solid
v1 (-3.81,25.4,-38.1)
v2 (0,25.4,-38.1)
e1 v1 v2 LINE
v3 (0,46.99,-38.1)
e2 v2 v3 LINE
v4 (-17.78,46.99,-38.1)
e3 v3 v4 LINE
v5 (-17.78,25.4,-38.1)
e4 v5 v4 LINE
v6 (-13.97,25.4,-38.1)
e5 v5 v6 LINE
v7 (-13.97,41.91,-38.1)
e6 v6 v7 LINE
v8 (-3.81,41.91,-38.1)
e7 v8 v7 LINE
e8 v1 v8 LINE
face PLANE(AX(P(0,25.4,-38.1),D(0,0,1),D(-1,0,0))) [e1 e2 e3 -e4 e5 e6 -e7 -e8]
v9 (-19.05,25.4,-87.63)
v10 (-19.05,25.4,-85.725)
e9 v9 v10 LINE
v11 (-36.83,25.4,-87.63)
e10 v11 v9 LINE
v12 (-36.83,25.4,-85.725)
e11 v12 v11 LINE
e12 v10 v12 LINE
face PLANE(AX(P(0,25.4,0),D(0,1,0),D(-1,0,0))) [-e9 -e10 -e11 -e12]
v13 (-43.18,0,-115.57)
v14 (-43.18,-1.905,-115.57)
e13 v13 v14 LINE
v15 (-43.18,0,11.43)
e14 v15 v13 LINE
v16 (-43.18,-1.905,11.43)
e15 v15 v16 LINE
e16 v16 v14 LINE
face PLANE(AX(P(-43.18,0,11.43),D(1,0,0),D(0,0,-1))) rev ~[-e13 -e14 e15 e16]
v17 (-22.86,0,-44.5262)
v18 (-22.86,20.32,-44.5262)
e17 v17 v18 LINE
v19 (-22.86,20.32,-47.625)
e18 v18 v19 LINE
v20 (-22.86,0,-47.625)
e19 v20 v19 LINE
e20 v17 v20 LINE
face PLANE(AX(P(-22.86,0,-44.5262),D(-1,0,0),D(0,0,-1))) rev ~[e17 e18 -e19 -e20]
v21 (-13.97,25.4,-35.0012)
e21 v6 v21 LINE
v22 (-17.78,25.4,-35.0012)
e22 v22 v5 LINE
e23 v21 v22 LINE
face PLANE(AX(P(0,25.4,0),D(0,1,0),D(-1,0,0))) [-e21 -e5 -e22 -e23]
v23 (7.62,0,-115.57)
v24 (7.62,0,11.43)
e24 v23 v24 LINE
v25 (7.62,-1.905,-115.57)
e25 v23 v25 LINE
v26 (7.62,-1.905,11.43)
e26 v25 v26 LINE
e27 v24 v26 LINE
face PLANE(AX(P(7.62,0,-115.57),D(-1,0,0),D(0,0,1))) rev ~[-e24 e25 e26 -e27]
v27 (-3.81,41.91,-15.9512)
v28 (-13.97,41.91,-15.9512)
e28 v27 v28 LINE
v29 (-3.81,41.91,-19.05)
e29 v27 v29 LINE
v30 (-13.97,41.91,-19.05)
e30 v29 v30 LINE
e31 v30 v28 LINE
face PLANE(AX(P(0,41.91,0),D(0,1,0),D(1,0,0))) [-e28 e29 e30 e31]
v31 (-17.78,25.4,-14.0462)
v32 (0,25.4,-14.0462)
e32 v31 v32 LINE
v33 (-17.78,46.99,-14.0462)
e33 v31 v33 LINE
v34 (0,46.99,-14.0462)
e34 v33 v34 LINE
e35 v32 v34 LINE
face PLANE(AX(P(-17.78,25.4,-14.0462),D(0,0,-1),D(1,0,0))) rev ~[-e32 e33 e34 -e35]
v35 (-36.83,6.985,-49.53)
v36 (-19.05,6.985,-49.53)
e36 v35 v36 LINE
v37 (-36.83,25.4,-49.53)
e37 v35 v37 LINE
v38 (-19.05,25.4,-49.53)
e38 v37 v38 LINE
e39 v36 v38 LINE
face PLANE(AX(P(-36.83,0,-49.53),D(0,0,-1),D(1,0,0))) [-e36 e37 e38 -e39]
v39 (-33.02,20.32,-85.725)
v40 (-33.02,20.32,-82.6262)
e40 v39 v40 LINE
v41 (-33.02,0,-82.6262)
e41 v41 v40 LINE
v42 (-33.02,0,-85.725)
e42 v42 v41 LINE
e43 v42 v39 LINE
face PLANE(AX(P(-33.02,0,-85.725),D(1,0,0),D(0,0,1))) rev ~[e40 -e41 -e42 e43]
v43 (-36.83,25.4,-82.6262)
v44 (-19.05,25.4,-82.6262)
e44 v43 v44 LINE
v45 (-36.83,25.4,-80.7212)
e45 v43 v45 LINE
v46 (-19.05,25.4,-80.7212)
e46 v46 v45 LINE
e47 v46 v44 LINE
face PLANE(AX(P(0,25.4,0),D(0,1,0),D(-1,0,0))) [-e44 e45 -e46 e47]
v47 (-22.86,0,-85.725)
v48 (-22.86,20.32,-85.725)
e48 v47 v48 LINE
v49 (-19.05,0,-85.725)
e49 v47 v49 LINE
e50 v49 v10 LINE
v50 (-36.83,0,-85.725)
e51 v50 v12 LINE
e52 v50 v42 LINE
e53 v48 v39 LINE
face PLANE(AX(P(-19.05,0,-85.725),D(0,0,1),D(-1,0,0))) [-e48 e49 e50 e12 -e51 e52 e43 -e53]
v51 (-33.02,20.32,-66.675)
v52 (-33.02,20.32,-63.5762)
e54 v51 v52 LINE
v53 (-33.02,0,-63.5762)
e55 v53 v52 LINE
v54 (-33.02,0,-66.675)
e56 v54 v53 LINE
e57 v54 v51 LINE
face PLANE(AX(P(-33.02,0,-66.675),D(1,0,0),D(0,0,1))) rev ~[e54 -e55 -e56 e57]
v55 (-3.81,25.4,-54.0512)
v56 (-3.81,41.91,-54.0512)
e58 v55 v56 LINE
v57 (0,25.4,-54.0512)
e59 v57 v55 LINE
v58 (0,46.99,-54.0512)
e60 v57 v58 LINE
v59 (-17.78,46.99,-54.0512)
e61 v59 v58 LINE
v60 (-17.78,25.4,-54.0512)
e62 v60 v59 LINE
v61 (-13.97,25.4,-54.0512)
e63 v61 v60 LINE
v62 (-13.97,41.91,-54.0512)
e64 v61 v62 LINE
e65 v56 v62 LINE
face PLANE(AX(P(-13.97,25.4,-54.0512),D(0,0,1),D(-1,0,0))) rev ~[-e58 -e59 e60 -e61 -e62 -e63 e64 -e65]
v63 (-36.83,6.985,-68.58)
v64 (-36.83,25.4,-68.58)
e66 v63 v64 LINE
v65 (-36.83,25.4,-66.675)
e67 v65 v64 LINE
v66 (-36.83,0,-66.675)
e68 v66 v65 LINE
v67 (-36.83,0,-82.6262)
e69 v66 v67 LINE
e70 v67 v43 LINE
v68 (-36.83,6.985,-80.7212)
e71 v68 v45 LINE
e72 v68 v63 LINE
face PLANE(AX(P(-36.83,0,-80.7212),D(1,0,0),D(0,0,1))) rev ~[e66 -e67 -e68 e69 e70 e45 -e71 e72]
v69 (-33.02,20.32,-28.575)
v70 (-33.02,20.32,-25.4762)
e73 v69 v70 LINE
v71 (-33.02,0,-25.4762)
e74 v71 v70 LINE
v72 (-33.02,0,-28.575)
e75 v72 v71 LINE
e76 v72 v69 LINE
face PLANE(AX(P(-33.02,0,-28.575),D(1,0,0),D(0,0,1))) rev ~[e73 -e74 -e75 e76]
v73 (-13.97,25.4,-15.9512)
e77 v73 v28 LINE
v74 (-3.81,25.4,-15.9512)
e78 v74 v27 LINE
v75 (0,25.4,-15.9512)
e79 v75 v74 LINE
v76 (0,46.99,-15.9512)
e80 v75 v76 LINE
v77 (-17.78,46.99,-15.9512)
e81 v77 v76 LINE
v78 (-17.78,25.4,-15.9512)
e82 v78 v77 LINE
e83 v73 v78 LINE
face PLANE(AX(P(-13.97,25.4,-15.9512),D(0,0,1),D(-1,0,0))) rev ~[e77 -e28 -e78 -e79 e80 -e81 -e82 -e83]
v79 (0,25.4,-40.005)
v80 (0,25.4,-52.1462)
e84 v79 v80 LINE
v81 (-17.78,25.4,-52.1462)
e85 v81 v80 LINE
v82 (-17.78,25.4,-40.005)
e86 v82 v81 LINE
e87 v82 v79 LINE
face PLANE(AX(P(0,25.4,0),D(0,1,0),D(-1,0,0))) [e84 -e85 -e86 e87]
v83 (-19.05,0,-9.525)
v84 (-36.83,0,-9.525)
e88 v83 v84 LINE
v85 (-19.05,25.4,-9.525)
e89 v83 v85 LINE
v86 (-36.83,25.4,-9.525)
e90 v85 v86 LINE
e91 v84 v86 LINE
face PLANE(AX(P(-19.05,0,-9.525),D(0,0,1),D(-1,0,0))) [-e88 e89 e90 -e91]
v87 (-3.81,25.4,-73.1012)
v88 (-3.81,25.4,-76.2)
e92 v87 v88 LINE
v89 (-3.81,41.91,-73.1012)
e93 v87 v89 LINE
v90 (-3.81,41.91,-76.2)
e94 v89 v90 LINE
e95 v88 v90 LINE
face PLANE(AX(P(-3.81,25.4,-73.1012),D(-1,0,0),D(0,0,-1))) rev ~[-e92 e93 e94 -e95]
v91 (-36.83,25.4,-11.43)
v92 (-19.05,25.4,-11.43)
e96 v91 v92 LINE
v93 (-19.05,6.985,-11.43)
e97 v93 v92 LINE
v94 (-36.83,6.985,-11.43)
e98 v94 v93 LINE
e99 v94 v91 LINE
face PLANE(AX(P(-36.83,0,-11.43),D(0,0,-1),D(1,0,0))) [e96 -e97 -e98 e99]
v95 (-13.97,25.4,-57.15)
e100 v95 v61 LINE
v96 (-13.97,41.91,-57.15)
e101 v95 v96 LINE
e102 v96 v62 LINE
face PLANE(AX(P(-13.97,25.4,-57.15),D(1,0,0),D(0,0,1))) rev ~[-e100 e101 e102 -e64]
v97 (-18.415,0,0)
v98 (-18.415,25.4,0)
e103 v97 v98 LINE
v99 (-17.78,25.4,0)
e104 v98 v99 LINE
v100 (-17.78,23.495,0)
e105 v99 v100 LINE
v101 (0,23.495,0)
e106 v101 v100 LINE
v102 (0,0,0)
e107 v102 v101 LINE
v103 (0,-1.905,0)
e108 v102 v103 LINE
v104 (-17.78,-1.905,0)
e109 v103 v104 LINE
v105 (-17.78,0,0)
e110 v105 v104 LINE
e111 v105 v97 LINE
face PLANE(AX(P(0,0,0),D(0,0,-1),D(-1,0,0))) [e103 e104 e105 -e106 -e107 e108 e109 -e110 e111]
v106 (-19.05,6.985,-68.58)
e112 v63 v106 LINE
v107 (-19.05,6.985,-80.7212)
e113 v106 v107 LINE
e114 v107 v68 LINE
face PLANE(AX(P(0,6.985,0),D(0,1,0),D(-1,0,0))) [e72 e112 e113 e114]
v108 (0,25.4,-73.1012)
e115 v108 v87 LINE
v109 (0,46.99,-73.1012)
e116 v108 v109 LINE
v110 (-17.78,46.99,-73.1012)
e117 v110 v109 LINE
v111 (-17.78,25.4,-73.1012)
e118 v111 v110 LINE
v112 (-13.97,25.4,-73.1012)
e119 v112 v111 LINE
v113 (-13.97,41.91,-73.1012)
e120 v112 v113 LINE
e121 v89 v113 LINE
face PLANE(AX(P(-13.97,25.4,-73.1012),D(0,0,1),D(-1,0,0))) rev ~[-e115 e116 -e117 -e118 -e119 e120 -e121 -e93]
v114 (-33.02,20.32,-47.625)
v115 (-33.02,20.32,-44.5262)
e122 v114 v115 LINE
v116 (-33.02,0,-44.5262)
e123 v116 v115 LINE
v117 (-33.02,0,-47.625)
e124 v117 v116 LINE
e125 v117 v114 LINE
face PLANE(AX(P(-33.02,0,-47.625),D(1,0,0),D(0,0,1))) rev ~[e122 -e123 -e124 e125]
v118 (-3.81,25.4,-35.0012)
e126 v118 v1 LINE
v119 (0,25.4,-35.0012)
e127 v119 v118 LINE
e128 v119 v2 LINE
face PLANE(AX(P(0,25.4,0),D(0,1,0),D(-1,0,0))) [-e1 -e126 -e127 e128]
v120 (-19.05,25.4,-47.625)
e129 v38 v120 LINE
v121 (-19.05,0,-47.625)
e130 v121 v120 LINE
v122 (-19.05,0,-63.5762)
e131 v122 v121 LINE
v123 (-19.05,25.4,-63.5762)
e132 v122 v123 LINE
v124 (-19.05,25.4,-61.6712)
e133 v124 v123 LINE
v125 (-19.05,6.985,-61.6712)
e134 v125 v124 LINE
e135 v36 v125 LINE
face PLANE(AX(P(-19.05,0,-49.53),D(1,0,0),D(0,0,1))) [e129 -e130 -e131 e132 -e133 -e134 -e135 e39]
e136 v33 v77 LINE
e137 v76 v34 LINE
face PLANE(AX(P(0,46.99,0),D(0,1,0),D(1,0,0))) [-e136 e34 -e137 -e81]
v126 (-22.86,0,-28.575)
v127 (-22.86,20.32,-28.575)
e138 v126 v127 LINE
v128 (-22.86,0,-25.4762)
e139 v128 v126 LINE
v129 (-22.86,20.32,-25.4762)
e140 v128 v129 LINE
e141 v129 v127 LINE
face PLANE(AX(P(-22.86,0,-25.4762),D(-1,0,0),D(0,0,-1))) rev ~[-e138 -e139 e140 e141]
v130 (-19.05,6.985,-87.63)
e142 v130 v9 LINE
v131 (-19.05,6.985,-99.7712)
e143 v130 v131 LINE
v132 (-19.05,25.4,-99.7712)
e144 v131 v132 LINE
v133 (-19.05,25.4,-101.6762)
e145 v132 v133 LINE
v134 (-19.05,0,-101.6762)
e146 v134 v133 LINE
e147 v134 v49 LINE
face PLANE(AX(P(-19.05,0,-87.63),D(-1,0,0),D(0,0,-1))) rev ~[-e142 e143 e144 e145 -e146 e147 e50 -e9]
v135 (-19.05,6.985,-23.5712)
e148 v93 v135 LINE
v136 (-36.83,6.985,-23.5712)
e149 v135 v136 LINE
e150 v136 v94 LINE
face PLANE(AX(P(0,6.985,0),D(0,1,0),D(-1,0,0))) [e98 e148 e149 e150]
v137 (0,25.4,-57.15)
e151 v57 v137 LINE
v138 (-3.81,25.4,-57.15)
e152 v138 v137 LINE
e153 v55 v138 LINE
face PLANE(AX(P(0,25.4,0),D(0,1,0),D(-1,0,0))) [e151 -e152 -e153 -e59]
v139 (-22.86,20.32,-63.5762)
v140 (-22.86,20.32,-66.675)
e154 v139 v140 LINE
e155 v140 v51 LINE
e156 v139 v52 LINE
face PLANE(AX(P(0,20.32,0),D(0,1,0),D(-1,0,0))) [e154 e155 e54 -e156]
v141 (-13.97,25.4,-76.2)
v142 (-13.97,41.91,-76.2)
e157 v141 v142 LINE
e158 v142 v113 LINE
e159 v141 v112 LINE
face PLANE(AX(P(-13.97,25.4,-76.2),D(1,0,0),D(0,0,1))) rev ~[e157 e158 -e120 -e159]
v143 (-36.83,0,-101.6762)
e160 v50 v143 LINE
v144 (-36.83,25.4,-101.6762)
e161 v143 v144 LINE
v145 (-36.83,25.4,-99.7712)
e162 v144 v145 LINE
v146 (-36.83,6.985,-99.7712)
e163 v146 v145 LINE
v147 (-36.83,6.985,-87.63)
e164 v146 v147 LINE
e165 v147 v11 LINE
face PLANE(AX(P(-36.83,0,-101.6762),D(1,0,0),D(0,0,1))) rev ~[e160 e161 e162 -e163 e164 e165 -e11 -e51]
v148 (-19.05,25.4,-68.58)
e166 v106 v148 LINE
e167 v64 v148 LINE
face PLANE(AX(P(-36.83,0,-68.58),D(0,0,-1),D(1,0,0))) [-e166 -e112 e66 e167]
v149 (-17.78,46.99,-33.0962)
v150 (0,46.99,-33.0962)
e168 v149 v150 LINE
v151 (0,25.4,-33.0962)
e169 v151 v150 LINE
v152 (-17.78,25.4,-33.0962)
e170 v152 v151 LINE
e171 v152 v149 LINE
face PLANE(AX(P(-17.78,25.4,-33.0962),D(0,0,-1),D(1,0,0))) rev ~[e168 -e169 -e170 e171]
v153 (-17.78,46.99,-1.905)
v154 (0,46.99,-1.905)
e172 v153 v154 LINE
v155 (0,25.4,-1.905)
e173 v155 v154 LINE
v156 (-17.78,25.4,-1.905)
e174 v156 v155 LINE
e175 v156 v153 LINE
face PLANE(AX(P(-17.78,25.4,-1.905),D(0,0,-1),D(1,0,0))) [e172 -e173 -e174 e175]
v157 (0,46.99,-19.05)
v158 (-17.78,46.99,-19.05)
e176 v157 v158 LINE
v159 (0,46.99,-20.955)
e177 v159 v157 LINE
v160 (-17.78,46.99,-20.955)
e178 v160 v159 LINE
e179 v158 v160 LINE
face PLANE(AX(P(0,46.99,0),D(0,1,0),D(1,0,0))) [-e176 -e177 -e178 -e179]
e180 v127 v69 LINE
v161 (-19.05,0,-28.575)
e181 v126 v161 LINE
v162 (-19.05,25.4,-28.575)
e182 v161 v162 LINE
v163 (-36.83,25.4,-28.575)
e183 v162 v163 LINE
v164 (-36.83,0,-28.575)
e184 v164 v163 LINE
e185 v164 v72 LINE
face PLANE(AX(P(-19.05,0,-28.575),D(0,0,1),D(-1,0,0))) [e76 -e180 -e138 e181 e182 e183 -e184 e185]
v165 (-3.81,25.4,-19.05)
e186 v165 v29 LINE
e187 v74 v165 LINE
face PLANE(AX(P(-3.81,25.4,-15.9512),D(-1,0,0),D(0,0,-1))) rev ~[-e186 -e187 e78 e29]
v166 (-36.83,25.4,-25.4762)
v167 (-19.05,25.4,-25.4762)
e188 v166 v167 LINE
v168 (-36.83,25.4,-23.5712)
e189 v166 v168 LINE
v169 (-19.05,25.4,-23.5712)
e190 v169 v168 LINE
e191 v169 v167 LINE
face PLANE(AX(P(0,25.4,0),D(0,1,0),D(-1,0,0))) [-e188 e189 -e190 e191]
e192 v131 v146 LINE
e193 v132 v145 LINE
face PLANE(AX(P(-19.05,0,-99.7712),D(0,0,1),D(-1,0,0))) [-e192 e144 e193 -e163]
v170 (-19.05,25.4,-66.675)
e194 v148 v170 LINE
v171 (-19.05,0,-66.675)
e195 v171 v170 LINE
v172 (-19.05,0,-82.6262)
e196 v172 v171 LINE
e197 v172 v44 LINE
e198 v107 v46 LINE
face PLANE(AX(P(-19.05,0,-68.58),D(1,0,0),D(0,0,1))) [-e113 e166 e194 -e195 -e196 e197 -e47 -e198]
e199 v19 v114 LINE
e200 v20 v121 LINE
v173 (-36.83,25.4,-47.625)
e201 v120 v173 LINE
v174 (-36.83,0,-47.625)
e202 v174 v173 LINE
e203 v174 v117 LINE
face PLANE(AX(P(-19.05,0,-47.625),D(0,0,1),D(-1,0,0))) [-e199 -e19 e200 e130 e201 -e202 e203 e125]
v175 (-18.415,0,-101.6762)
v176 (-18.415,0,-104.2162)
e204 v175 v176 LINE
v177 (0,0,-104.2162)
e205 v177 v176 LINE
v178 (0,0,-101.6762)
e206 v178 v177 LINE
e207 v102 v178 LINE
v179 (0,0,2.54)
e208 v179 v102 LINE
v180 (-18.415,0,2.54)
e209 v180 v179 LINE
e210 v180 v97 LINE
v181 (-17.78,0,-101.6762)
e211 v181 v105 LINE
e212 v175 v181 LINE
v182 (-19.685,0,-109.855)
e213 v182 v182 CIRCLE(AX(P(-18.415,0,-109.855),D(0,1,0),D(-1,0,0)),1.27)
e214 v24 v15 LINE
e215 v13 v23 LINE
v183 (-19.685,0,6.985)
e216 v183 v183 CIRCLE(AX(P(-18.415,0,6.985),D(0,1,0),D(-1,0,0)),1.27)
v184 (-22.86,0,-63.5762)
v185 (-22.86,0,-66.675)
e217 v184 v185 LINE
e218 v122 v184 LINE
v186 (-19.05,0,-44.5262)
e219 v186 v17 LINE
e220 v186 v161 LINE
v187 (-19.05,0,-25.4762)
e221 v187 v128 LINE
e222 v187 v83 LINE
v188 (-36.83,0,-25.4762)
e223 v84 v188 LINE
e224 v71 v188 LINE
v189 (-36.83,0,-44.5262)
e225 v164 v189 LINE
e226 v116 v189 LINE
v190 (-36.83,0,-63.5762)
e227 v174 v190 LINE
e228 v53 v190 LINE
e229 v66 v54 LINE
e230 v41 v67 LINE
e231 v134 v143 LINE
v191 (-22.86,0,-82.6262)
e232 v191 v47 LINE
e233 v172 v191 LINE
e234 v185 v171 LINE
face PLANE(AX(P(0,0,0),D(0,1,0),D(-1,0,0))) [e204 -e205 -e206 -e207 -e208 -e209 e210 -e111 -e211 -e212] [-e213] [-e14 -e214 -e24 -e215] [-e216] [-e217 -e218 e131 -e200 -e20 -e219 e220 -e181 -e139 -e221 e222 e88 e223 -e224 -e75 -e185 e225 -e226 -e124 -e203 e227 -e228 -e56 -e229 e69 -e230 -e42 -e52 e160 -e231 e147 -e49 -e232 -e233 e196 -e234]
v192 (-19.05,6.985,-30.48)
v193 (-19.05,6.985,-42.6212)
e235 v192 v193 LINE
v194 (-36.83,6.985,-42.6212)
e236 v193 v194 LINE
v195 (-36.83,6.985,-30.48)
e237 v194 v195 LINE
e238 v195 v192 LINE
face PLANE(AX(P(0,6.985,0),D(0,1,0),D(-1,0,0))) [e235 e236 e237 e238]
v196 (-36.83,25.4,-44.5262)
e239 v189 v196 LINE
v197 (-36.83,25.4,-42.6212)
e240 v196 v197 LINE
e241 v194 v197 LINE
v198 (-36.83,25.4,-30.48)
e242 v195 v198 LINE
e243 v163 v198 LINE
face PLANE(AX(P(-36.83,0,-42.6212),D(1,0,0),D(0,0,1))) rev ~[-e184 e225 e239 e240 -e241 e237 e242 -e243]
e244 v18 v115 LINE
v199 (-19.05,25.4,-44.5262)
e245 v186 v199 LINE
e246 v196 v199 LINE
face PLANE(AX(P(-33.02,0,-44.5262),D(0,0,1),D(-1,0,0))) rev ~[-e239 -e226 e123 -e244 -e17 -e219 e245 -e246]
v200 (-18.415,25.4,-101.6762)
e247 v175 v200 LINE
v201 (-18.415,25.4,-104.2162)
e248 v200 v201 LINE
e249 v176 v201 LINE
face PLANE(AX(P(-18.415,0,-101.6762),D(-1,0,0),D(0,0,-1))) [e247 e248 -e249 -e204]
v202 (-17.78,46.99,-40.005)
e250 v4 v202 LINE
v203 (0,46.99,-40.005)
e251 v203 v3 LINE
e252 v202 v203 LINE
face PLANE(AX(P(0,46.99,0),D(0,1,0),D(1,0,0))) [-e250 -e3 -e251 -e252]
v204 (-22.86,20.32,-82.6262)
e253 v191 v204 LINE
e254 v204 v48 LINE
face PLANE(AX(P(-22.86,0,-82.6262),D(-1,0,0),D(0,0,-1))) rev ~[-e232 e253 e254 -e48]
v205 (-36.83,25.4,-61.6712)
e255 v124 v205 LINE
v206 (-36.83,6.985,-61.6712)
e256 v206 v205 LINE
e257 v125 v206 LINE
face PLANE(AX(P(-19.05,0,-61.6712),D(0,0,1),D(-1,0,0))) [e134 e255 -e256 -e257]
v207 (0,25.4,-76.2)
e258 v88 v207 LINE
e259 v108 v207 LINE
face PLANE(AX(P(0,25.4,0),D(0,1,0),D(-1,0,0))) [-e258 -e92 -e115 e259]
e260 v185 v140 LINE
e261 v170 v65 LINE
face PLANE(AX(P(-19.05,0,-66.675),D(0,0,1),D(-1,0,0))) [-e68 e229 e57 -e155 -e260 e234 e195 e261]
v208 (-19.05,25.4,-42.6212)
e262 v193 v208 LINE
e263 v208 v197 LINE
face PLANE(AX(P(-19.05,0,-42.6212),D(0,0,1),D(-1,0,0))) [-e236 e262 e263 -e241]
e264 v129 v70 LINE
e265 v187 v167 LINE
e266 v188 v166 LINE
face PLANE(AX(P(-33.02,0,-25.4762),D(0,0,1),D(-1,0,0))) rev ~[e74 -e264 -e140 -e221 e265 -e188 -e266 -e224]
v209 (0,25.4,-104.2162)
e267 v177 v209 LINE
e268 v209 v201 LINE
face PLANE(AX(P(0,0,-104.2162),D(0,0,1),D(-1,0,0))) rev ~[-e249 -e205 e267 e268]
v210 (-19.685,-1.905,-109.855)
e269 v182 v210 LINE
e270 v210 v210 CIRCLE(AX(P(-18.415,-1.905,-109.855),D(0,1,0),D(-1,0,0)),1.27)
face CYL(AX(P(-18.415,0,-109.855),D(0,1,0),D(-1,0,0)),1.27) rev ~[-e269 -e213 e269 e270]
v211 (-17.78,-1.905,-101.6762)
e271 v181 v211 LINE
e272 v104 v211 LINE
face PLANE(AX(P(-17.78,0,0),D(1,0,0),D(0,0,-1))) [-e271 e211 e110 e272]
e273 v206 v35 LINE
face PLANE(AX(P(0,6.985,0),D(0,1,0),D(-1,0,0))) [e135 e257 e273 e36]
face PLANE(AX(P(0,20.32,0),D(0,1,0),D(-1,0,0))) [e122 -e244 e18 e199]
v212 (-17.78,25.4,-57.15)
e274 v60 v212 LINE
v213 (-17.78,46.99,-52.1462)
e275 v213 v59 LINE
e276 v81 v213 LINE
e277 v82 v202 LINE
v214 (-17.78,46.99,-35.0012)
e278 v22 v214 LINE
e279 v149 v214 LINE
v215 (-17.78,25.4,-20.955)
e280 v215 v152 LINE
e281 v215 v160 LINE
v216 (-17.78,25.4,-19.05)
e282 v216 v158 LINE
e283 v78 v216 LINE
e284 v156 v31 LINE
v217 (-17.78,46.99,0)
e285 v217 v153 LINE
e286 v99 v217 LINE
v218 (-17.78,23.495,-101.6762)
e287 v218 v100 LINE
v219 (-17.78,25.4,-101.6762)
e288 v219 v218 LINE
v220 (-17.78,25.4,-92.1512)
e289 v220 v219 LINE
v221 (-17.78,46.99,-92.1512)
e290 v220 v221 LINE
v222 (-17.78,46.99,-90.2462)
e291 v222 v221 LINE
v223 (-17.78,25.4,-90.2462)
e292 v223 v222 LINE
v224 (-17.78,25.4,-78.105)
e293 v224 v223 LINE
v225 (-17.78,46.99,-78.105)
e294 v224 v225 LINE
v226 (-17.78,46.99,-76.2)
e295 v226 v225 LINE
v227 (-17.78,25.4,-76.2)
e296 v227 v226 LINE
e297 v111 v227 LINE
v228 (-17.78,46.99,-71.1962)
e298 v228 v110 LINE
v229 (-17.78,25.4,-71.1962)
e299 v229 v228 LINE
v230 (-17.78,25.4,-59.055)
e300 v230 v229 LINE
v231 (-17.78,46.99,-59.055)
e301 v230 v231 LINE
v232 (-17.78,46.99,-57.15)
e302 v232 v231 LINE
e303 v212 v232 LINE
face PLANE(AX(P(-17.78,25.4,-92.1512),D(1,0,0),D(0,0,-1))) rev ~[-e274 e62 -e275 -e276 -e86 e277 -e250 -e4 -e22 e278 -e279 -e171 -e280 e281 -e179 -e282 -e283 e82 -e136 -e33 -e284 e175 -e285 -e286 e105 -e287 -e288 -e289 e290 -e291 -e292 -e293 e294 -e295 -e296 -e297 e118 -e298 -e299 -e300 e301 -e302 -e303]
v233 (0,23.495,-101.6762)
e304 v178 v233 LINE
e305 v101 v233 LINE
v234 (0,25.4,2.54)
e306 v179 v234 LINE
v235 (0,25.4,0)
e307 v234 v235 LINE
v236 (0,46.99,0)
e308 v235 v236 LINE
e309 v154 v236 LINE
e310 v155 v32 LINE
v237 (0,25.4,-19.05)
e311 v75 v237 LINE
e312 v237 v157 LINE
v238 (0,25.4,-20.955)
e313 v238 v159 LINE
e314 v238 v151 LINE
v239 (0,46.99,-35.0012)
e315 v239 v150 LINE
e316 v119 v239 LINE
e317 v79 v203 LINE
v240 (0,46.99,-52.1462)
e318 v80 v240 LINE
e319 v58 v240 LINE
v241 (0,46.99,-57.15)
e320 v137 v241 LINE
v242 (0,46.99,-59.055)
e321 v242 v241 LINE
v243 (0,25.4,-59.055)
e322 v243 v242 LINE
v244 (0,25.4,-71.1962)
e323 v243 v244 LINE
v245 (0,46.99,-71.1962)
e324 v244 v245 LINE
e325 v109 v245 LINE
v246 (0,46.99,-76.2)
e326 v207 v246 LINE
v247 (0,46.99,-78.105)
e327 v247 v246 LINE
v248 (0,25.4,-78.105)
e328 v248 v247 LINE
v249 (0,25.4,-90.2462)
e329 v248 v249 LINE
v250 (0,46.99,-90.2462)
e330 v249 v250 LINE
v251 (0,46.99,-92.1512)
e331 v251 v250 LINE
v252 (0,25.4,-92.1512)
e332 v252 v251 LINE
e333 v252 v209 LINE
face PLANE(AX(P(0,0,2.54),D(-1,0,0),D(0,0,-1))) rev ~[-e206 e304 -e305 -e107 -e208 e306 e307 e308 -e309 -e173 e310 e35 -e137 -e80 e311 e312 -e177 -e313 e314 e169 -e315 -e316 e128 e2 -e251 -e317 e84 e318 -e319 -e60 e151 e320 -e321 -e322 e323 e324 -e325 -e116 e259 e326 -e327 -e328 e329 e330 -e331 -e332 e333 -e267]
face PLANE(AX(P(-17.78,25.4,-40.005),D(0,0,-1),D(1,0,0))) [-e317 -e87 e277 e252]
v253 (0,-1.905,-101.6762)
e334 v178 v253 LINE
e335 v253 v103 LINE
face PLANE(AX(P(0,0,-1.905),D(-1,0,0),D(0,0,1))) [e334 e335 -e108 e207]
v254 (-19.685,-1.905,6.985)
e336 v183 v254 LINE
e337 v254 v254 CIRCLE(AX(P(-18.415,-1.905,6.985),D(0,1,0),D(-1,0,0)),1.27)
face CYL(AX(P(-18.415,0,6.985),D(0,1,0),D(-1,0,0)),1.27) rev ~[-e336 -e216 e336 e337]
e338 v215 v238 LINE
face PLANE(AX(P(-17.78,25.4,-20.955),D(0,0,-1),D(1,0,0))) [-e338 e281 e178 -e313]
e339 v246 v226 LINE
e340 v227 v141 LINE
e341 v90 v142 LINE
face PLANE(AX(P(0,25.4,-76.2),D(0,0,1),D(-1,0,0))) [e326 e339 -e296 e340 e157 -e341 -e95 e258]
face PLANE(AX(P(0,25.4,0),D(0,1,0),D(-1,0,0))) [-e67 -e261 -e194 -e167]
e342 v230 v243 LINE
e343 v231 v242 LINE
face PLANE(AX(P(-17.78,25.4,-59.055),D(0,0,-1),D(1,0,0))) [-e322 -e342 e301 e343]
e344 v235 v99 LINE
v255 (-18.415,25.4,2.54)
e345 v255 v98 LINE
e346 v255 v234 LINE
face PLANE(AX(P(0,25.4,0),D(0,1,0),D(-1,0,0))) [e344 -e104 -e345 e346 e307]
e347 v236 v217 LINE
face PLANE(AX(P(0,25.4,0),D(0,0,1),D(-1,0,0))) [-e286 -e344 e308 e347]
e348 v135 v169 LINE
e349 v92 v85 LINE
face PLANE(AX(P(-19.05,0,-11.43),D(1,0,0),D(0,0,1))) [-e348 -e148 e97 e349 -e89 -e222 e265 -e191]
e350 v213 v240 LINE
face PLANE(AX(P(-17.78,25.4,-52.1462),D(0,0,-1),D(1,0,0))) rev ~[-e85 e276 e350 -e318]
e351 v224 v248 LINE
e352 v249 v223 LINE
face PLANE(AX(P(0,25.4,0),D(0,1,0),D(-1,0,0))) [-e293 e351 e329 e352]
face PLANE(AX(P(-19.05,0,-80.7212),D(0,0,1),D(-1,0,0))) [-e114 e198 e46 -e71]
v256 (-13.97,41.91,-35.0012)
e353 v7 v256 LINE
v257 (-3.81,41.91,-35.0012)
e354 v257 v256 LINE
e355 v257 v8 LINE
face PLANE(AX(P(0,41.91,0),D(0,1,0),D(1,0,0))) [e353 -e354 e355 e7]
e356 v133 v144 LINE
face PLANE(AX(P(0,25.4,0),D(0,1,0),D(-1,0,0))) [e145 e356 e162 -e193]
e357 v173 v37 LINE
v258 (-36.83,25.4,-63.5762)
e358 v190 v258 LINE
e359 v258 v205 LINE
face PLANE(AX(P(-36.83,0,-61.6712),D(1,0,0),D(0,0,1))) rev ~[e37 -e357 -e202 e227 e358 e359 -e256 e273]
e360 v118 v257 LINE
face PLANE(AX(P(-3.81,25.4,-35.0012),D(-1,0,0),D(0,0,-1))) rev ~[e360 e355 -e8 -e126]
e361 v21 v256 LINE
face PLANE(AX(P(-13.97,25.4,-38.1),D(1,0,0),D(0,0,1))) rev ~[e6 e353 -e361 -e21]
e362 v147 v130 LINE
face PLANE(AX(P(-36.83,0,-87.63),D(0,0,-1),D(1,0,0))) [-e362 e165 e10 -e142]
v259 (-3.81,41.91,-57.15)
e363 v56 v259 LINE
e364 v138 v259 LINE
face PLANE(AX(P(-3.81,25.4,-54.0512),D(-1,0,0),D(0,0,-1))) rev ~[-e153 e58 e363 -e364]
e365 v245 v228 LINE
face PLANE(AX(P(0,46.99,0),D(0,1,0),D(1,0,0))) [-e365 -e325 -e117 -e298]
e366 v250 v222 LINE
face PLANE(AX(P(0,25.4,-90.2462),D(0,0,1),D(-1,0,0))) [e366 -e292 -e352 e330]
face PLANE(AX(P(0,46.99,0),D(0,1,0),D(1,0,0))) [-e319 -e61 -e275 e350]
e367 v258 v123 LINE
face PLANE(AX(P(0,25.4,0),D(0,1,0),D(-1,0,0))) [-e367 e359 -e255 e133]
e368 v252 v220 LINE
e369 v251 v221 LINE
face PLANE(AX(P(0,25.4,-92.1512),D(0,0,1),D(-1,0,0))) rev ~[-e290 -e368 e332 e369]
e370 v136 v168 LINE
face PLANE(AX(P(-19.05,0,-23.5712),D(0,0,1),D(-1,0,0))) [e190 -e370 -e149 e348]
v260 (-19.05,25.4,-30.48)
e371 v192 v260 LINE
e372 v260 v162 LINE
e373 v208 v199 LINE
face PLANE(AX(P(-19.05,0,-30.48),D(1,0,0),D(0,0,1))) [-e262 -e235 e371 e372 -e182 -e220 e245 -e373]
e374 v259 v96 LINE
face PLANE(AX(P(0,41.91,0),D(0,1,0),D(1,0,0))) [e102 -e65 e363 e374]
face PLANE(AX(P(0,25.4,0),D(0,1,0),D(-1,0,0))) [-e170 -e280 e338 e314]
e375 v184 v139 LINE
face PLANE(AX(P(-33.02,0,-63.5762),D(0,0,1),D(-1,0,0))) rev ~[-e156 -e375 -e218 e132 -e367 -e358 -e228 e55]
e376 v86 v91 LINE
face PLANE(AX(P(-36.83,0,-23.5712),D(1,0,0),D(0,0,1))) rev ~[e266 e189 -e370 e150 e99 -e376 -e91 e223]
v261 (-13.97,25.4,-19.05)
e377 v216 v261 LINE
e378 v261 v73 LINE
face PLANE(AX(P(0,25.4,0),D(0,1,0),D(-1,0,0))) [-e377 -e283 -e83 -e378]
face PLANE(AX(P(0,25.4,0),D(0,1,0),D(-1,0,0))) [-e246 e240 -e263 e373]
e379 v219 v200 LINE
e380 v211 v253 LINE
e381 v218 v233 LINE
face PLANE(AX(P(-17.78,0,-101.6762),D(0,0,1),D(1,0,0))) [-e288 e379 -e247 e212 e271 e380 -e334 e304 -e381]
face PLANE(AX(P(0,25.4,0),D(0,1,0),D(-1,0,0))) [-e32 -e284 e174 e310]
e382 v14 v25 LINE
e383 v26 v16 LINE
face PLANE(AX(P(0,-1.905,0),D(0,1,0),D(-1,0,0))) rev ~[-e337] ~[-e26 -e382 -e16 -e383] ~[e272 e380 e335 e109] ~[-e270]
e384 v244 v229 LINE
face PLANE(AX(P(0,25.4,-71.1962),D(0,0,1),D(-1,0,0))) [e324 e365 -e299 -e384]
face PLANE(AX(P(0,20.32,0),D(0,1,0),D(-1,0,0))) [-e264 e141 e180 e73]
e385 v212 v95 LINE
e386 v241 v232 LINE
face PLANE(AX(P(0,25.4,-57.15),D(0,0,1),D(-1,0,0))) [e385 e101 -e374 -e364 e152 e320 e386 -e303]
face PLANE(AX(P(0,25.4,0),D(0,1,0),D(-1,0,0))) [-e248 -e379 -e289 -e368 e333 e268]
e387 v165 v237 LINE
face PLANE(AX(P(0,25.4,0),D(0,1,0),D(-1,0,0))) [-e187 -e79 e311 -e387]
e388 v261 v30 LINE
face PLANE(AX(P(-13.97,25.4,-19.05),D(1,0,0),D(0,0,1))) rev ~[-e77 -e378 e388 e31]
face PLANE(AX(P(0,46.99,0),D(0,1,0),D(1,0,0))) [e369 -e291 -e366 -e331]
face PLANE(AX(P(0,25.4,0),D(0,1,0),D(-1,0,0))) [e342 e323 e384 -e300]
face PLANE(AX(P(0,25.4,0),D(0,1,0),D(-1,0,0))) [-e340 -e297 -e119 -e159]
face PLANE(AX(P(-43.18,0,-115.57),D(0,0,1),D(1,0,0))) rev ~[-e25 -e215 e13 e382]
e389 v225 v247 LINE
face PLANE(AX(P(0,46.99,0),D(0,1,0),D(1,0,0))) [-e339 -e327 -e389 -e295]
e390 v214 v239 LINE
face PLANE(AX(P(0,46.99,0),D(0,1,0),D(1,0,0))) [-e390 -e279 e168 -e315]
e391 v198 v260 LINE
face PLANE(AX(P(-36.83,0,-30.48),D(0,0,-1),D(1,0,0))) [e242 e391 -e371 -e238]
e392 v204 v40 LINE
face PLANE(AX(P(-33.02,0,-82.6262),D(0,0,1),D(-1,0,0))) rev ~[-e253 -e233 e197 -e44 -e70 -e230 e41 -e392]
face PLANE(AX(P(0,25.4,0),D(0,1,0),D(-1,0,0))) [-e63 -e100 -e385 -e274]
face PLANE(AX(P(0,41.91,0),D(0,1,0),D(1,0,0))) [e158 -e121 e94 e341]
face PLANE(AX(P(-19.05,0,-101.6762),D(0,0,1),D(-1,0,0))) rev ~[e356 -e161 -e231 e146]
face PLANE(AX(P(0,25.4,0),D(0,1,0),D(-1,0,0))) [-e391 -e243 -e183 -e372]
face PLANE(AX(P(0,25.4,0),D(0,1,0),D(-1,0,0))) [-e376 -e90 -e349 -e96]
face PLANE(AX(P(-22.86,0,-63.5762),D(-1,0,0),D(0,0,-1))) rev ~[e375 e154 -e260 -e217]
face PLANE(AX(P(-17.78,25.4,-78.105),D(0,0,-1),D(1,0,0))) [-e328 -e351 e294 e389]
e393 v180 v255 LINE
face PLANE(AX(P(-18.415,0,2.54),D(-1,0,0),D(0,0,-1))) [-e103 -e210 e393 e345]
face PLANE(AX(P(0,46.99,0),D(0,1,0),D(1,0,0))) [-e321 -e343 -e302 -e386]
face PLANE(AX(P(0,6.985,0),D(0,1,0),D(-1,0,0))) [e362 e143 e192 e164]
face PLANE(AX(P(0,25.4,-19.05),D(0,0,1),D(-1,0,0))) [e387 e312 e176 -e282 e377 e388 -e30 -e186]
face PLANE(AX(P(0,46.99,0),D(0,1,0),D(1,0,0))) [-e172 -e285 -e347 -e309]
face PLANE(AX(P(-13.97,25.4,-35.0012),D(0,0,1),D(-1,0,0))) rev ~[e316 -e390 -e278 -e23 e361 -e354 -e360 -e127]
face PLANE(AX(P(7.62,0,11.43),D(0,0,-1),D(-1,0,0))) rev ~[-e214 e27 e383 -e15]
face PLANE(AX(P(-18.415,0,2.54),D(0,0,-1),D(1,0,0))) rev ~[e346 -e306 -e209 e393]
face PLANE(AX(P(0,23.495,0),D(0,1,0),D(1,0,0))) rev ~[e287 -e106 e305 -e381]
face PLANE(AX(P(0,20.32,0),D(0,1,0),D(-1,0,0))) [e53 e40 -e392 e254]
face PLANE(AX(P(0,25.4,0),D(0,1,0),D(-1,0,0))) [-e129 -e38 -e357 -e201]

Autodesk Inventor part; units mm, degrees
ref_plane "YZ Plane" through (0, 0, 0) normal (1, 0, 0) x (0, 1, 0)
ref_plane "XZ Plane" through (0, 0, 0) normal (0, 1, 0) x (-1, 0, 0)
ref_plane "XY Plane" through (0, 0, 0) normal (0, 0, 1) x (1, 0, 0)
sketch "Sketch2" plane through (0, 0, 0) normal (0, 1, 0) x (-1, 0, 0)
  line L0 (0, 0) -> (17.78, 0)
  line L1 (17.78, 0) -> (17.78, -1.905)
  line L2 (17.78, -1.905) -> (0, -1.905)
  line L3 (0, -1.905) -> (0, 0)
  line L4 (17.78, -1.905) -> (0, -1.905)
  line L5 (0, -1.905) -> (0, -14.0462)
  line L6 (0, -14.0462) -> (17.78, -14.0462)
  line L7 (17.78, -14.0462) -> (17.78, -1.905)
  line L8 (17.78, -14.0462) -> (0, -14.0462)
  line L9 (0, -14.0462) -> (0, -15.9512)
  line L10 (0, -15.9512) -> (17.78, -15.9512)
  line L11 (17.78, -15.9512) -> (17.78, -14.0462)
  circle A0 centre (8.89, -7.9756) radius 3.81
  line L12 (17.78, -1.905) -> (0, -14.0462) construction
  line L13 (0, -19.05) -> (17.78, -19.05)
  line L14 (17.78, -19.05) -> (17.78, -20.955)
  line L15 (17.78, -20.955) -> (0, -20.955)
  line L16 (0, -20.955) -> (0, -19.05)
  line L17 (17.78, -20.955) -> (0, -20.955)
  line L18 (0, -20.955) -> (0, -33.0962)
  line L19 (0, -33.0962) -> (17.78, -33.0962)
  line L20 (17.78, -33.0962) -> (17.78, -20.955)
  line L21 (17.78, -33.0962) -> (0, -33.0962)
  line L22 (0, -33.0962) -> (0, -35.0012)
  line L23 (0, -35.0012) -> (17.78, -35.0012)
  line L24 (17.78, -35.0012) -> (17.78, -33.0962)
  circle A1 centre (8.89, -27.0256) radius 3.81
  line L25 (17.78, -20.955) -> (0, -33.0962) construction
  line L26 (0, -38.1) -> (17.78, -38.1)
  line L27 (17.78, -38.1) -> (17.78, -40.005)
  line L28 (17.78, -40.005) -> (0, -40.005)
  line L29 (0, -40.005) -> (0, -38.1)
  line L30 (17.78, -40.005) -> (0, -40.005)
  line L31 (0, -40.005) -> (0, -52.1462)
  line L32 (0, -52.1462) -> (17.78, -52.1462)
  line L33 (17.78, -52.1462) -> (17.78, -40.005)
  line L34 (17.78, -52.1462) -> (0, -52.1462)
  line L35 (0, -52.1462) -> (0, -54.0512)
  line L36 (0, -54.0512) -> (17.78, -54.0512)
  line L37 (17.78, -54.0512) -> (17.78, -52.1462)
  circle A2 centre (8.89, -46.0756) radius 3.81
  line L38 (17.78, -40.005) -> (0, -52.1462) construction
  line L39 (0, -57.15) -> (17.78, -57.15)
  line L40 (17.78, -57.15) -> (17.78, -59.055)
  line L41 (17.78, -59.055) -> (0, -59.055)
  line L42 (0, -59.055) -> (0, -57.15)
  line L43 (17.78, -59.055) -> (0, -59.055)
  line L44 (0, -59.055) -> (0, -71.1962)
  line L45 (0, -71.1962) -> (17.78, -71.1962)
  line L46 (17.78, -71.1962) -> (17.78, -59.055)
  line L47 (17.78, -71.1962) -> (0, -71.1962)
  line L48 (0, -71.1962) -> (0, -73.1012)
  line L49 (0, -73.1012) -> (17.78, -73.1012)
  line L50 (17.78, -73.1012) -> (17.78, -71.1962)
  circle A3 centre (8.89, -65.1256) radius 3.81
  line L51 (17.78, -59.055) -> (0, -71.1962) construction
  line L52 (0, -76.2) -> (17.78, -76.2)
  line L53 (17.78, -76.2) -> (17.78, -78.105)
  line L54 (17.78, -78.105) -> (0, -78.105)
  line L55 (0, -78.105) -> (0, -76.2)
  line L56 (17.78, -78.105) -> (0, -78.105)
  line L57 (0, -78.105) -> (0, -90.2462)
  line L58 (0, -90.2462) -> (17.78, -90.2462)
  line L59 (17.78, -90.2462) -> (17.78, -78.105)
  line L60 (17.78, -90.2462) -> (0, -90.2462)
  line L61 (0, -90.2462) -> (0, -92.1512)
  line L62 (0, -92.1512) -> (17.78, -92.1512)
  line L63 (17.78, -92.1512) -> (17.78, -90.2462)
  circle A4 centre (8.89, -84.1756) radius 3.81
  line L64 (17.78, -78.105) -> (0, -90.2462) construction
  line L65 (-7.62, 11.43) -> (43.18, 11.43)
  line L66 (43.18, 11.43) -> (43.18, -115.57)
  line L67 (43.18, -115.57) -> (-7.62, -115.57)
  line L68 (-7.62, -115.57) -> (-7.62, 11.43)
  line L69 (19.05, -9.525) -> (36.83, -9.525)
  line L70 (36.83, -9.525) -> (36.83, -11.43)
  line L71 (36.83, -11.43) -> (19.05, -11.43)
  line L72 (19.05, -11.43) -> (19.05, -9.525)
  line L73 (36.83, -11.43) -> (19.05, -11.43)
  line L74 (19.05, -11.43) -> (19.05, -23.5712)
  line L75 (19.05, -23.5712) -> (36.83, -23.5712)
  line L76 (36.83, -23.5712) -> (36.83, -11.43)
  line L77 (36.83, -23.5712) -> (19.05, -23.5712)
  line L78 (19.05, -23.5712) -> (19.05, -25.4762)
  line L79 (19.05, -25.4762) -> (36.83, -25.4762)
  line L80 (36.83, -25.4762) -> (36.83, -23.5712)
  circle A5 centre (27.94, -17.5006) radius 3.81
  line L81 (36.83, -11.43) -> (19.05, -23.5712) construction
  line L82 (19.05, -28.575) -> (36.83, -28.575)
  line L83 (36.83, -28.575) -> (36.83, -30.48)
  line L84 (36.83, -30.48) -> (19.05, -30.48)
  line L85 (19.05, -30.48) -> (19.05, -28.575)
  line L86 (36.83, -30.48) -> (19.05, -30.48)
  line L87 (19.05, -30.48) -> (19.05, -42.6212)
  line L88 (19.05, -42.6212) -> (36.83, -42.6212)
  line L89 (36.83, -42.6212) -> (36.83, -30.48)
  line L90 (36.83, -42.6212) -> (19.05, -42.6212)
  line L91 (19.05, -42.6212) -> (19.05, -44.5262)
  line L92 (19.05, -44.5262) -> (36.83, -44.5262)
  line L93 (36.83, -44.5262) -> (36.83, -42.6212)
  circle A6 centre (27.94, -36.5506) radius 3.81
  line L94 (36.83, -30.48) -> (19.05, -42.6212) construction
  line L95 (19.05, -47.625) -> (36.83, -47.625)
  line L96 (36.83, -47.625) -> (36.83, -49.53)
  line L97 (36.83, -49.53) -> (19.05, -49.53)
  line L98 (19.05, -49.53) -> (19.05, -47.625)
  line L99 (36.83, -49.53) -> (19.05, -49.53)
  line L100 (19.05, -49.53) -> (19.05, -61.6712)
  line L101 (19.05, -61.6712) -> (36.83, -61.6712)
  line L102 (36.83, -61.6712) -> (36.83, -49.53)
  line L103 (36.83, -61.6712) -> (19.05, -61.6712)
  line L104 (19.05, -61.6712) -> (19.05, -63.5762)
  line L105 (19.05, -63.5762) -> (36.83, -63.5762)
  line L106 (36.83, -63.5762) -> (36.83, -61.6712)
  circle A7 centre (27.94, -55.6006) radius 3.81
  line L107 (36.83, -49.53) -> (19.05, -61.6712) construction
  line L108 (19.05, -66.675) -> (36.83, -66.675)
  line L109 (36.83, -66.675) -> (36.83, -68.58)
  line L110 (36.83, -68.58) -> (19.05, -68.58)
  line L111 (19.05, -68.58) -> (19.05, -66.675)
  line L112 (36.83, -68.58) -> (19.05, -68.58)
  line L113 (19.05, -68.58) -> (19.05, -80.7212)
  line L114 (19.05, -80.7212) -> (36.83, -80.7212)
  line L115 (36.83, -80.7212) -> (36.83, -68.58)
  line L116 (36.83, -80.7212) -> (19.05, -80.7212)
  line L117 (19.05, -80.7212) -> (19.05, -82.6262)
  line L118 (19.05, -82.6262) -> (36.83, -82.6262)
  line L119 (36.83, -82.6262) -> (36.83, -80.7212)
  circle A8 centre (27.94, -74.6506) radius 3.81
  line L120 (36.83, -68.58) -> (19.05, -80.7212) construction
  line L121 (19.05, -85.725) -> (36.83, -85.725)
  line L122 (36.83, -85.725) -> (36.83, -87.63)
  line L123 (36.83, -87.63) -> (19.05, -87.63)
  line L124 (19.05, -87.63) -> (19.05, -85.725)
  line L125 (36.83, -87.63) -> (19.05, -87.63)
  line L126 (19.05, -87.63) -> (19.05, -99.7712)
  line L127 (19.05, -99.7712) -> (36.83, -99.7712)
  line L128 (36.83, -99.7712) -> (36.83, -87.63)
  line L129 (36.83, -99.7712) -> (19.05, -99.7712)
  line L130 (19.05, -99.7712) -> (19.05, -101.6762)
  line L131 (19.05, -101.6762) -> (36.83, -101.6762)
  line L132 (36.83, -101.6762) -> (36.83, -99.7712)
  circle A9 centre (27.94, -93.7006) radius 3.81
  line L133 (36.83, -87.63) -> (19.05, -99.7712)
  line L134 (8.89, -15.9512) -> (8.89, -19.05) construction
  line L135 (0, 0) -> (36.83, 0)
  line L136 (36.83, 0) -> (36.83, 2.54)
  line L137 (36.83, 2.54) -> (0, 2.54)
  line L138 (0, 2.54) -> (0, 0)
  line L139 (36.83, -101.6762) -> (0, -101.6762)
  line L140 (0, -101.6762) -> (0, -104.2162)
  line L141 (0, -104.2162) -> (36.83, -104.2162)
  line L142 (36.83, -104.2162) -> (36.83, -101.6762)
  circle A10 centre (18.415, 6.985) radius 1.27
  line L143 (19.05, -9.525) -> (17.78, -9.525) construction
  line L144 (19.05, -10.4775) -> (17.78, -10.4775) construction
  circle A11 centre (18.415, -109.855) radius 1.27
  line L145 (22.86, -25.4762) -> (22.86, -28.575)
  line L146 (22.86, -28.575) -> (33.02, -28.575)
  line L147 (33.02, -28.575) -> (33.02, -25.4762)
  line L148 (33.02, -25.4762) -> (22.86, -25.4762)
  line L149 (22.86, -25.4762) -> (33.02, -28.575) construction
  line L150 (22.86, -28.575) -> (33.02, -25.4762) construction
  line L151 (22.86, -47.625) -> (33.02, -47.625)
  line L152 (33.02, -44.5262) -> (22.86, -44.5262)
  line L153 (22.86, -44.5262) -> (22.86, -47.625)
  line L154 (33.02, -47.625) -> (33.02, -44.5262)
  line L155 (22.86, -44.5262) -> (33.02, -47.625) construction
  line L156 (22.86, -47.625) -> (33.02, -44.5262) construction
  line L157 (22.86, -66.675) -> (33.02, -66.675)
  line L158 (33.02, -63.5762) -> (22.86, -63.5762)
  line L159 (22.86, -63.5762) -> (22.86, -66.675)
  line L160 (33.02, -66.675) -> (33.02, -63.5762)
  line L161 (22.86, -63.5762) -> (33.02, -66.675) construction
  line L162 (22.86, -66.675) -> (33.02, -63.5762) construction
  line L163 (22.86, -85.725) -> (33.02, -85.725)
  line L164 (33.02, -82.6262) -> (22.86, -82.6262)
  line L165 (22.86, -82.6262) -> (22.86, -85.725)
  line L166 (33.02, -85.725) -> (33.02, -82.6262)
  line L167 (22.86, -82.6262) -> (33.02, -85.725) construction
  line L168 (22.86, -85.725) -> (33.02, -82.6262) construction
  line L169 (3.81, -15.9512) -> (3.81, -19.05)
  line L170 (3.81, -19.05) -> (13.97, -19.05)
  line L171 (13.97, -19.05) -> (13.97, -15.9512)
  line L172 (13.97, -15.9512) -> (3.81, -15.9512)
  line L173 (3.81, -15.9512) -> (13.97, -19.05) construction
  line L174 (3.81, -19.05) -> (13.97, -15.9512) construction
  line L175 (3.81, -38.1) -> (13.97, -38.1)
  line L176 (13.97, -35.0012) -> (3.81, -35.0012)
  line L177 (3.81, -35.0012) -> (13.97, -38.1) construction
  line L178 (3.81, -38.1) -> (13.97, -35.0012) construction
  line L179 (3.81, -35.0012) -> (3.81, -38.1)
  line L180 (13.97, -38.1) -> (13.97, -35.0012)
  line L181 (8.89, -35.0012) -> (8.89, -38.1) construction
  line L182 (3.81, -57.15) -> (13.97, -57.15)
  line L183 (13.97, -54.0512) -> (3.81, -54.0512)
  line L184 (3.81, -54.0512) -> (13.97, -57.15) construction
  line L185 (3.81, -57.15) -> (13.97, -54.0512) construction
  line L186 (3.81, -54.0512) -> (3.81, -57.15)
  line L187 (13.97, -57.15) -> (13.97, -54.0512)
  line L188 (8.89, -54.0512) -> (8.89, -57.15) construction
  line L189 (3.81, -76.2) -> (13.97, -76.2)
  line L190 (13.97, -73.1012) -> (3.81, -73.1012)
  line L191 (3.81, -73.1012) -> (13.97, -76.2) construction
  line L192 (3.81, -76.2) -> (13.97, -73.1012) construction
  line L193 (3.81, -73.1012) -> (3.81, -76.2)
  line L194 (13.97, -76.2) -> (13.97, -73.1012)
  line L195 (8.89, -73.1012) -> (8.89, -76.2) construction
  line L196 (0, 0) -> (17.78, 0)
  line L197 (17.78, 0) -> (17.78, -101.6762)
  line L198 (17.78, -101.6762) -> (0, -101.6762)
  line L199 (0, -101.6762) -> (0, 0)
  line L200 (36.83, 0) -> (0, 0)
  line L201 (0, 0) -> (0, -101.6762)
  line L202 (0, -101.6762) -> (36.83, -101.6762)
  line L203 (36.83, -101.6762) -> (36.83, 0)
  line L204 (18.415, 2.54) -> (18.415, 0)
  line L205 (18.415, -101.6762) -> (18.415, -104.2162)
  point P0 (8.89, -17.5006)
  point P1 (18.415, -10.4775)
  point P2 (17.78, 11.43)
  point P3 (31.0864, -91.5521)
  point P4 (24.7936, -95.8491)
  point P5 (27.94, -27.0256)
  point P6 (27.94, -27.0256)
  point P7 (27.94, -46.0756)
  point P8 (27.94, -46.0756)
  point P9 (27.94, -65.1256)
  point P10 (27.94, -65.1256)
  point P11 (27.94, -84.1756)
  point P12 (27.94, -84.1756)
  point P13 (8.89, -36.5506)
  point P14 (8.89, -55.6006)
  point P15 (8.89, -74.6506)
  dimension "d68" = 17.78
  dimension "d69" = 1.905
  dimension "d70" = 17.78
  dimension "d71" = 12.1412
  dimension "d72" = 17.78
  dimension "d73" = 1.905
  dimension "d74" = 7.62
  dimension "d77" = 19.05
  dimension "d82" = 50.8
  dimension "d83" = 127
  dimension "d84" = 11.43
  dimension "d85" = 7.62
  dimension "d90" = 17.78
  dimension "d91" = 1.905
  dimension "d92" = 17.78
  dimension "d93" = 12.1412
  dimension "d94" = 17.78
  dimension "d95" = 1.905
  dimension "d96" = 7.62
  dimension "d97" = 19.05
  dimension "d99" = 19.05
  dimension "d100" = 36.83
  dimension "d101" = 2.54
  dimension "d102" = 2.54
  dimension "d103" = 2.54
  dimension "d104" = 4.445
  dimension "d105" = 2.54
  dimension "d106" = 5.715
  dimension "d113" = 10.16
  dimension "d114" = 3.0988
  dimension "d117" = 19.05
  dimension "d122" = 10.16
  dimension "d125" = 19.05
extrude "Extrusion1" add sketch "Sketch2" against normal blind 1.905 contours L138 L137 L204 L135 L0 | L135 L203 L69 L72 L74 L78 L79 L145 L82 L85 L87 L91 L92 L153 L95 L98 L100 L104 L105 L159 L108 L111 L113 L117 L118 L165 L121 L124 L126 L130 L139 L197 L63 L59 L53 L50 L46 L40 L37 L33 L27 L24 L20 L14 L11 L7 L1 | L204 L137 L136 L135 | L70 L71 L72 L69 | L76 L75 L74 L71 | L80 L79 L78 L75 | L203 L82 L147 L79 | L147 L82 L145 L79 | L83 L84 L85 L82 | L89 L88 L87 L84 | L93 L92 L91 L88 | L203 L95 L154 L92 | L154 L95 L153 L92 | L96 L97 L98 L95 | L102 L101 L100 L97 | L106 L105 L104 L101 | L203 L108 L160 L105 | L160 L108 L159 L105 | L109 L110 L111 L108 | L115 L114 L113 L110 | L119 L118 L117 L114 | L203 L121 L166 L118 | L166 L121 L165 L118 | L122 L123 L124 L121 | L139 L205 L141 L140 | L133 A9 L126 L123 | L128 L127 L133 A9 | L139 L131 L142 L141 L205 | L132 L131 L130 L127 | L133 A9 | A9 L133 | L65 L66 L67 L68 | A5 | A6 | A7 | A8
extrude "Extrusion2" add sketch "Sketch2" along normal blind 6.985 contours L76 L75 L74 L71 | L89 L88 L87 L84 | L102 L101 L100 L97 | L115 L114 L113 L110 | L133 A9 L126 L123 | L128 L127 L133 A9 | L133 A9 | A9 L133 | A5 | A6 | A7 | A8
extrude "Extrusion3" add sketch "Sketch2" along normal blind 25.4 contours L70 L71 L72 L69 | L80 L79 L78 L75 | L83 L84 L85 L82 | L93 L92 L91 L88 | L96 L97 L98 L95 | L106 L105 L104 L101 | L109 L110 L111 L108 | L119 L118 L117 L114 | L122 L123 L124 L121 | L132 L131 L130 L127
extrude "Extrusion4" add sketch "Sketch2" along normal blind 20.32 contours L147 L82 L145 L79 | L154 L95 L153 L92 | L160 L108 L159 L105 | L166 L121 L165 L118
ref_plane "Work Plane1" through (0, 25.4, 0) normal (0, 1, 0) x (1, 0, 0)
sketch "Sketch3" plane through (0, 25.4, 0) normal (0, 1, 0) x (1, 0, 0)
  line L0 (-36.83, 101.6762) -> (-36.83, 0) projected
  line L1 (0, 0) -> (-36.83, 0) projected
  line L2 (0, 101.6762) -> (0, 0) projected
  line L3 (-19.05, 101.6762) -> (0, 101.6762) projected
  line L4 (-19.05, 101.6762) -> (-36.83, 101.6762) projected
  line L5 (0, 0) -> (-17.78, 0) projected
  line L6 (-17.78, 0) -> (-17.78, 101.6762) projected
  line L7 (-17.78, 1.905) -> (0, 1.905) projected
  line L8 (-17.78, 14.0462) -> (0, 14.0462) projected
  line L9 (0, 15.9512) -> (-17.78, 15.9512) projected
  line L10 (0, 19.05) -> (-17.78, 19.05) projected
  line L11 (-17.78, 20.955) -> (0, 20.955) projected
  line L12 (-17.78, 33.0962) -> (0, 33.0962) projected
  line L13 (0, 35.0012) -> (-17.78, 35.0012) projected
  line L14 (-3.81, 35.0012) -> (-3.81, 38.1) projected
  line L15 (-13.97, 38.1) -> (-13.97, 35.0012) projected
  line L16 (0, 38.1) -> (-17.78, 38.1) projected
  line L17 (-17.78, 40.005) -> (0, 40.005) projected
  line L18 (-17.78, 52.1462) -> (0, 52.1462) projected
  line L19 (0, 54.0512) -> (-17.78, 54.0512) projected
  line L20 (0, 57.15) -> (-17.78, 57.15) projected
  line L21 (-17.78, 59.055) -> (0, 59.055) projected
  line L22 (0, 71.1962) -> (-17.78, 71.1962) projected
  line L23 (0, 73.1012) -> (-17.78, 73.1012) projected
  line L24 (0, 76.2) -> (-17.78, 76.2) projected
  line L25 (-17.78, 78.105) -> (0, 78.105) projected
  line L26 (0, 90.2462) -> (-17.78, 90.2462) projected
  line L27 (0, 92.1512) -> (-17.78, 92.1512) projected
  line L28 (-13.97, 76.2) -> (-13.97, 73.1012) projected
  line L29 (-3.81, 73.1012) -> (-3.81, 76.2) projected
  line L30 (-13.97, 57.15) -> (-13.97, 54.0512) projected
  line L31 (-3.81, 54.0512) -> (-3.81, 57.15) projected
  line L32 (0, -2.54) -> (-36.83, -2.54) projected
  line L33 (-36.83, 104.2162) -> (0, 104.2162) projected
  line L34 (-36.83, 85.725) -> (-36.83, 104.2162) projected
  line L35 (0, 101.6762) -> (0, 104.2162) projected
  line L36 (0, -2.54) -> (0, 0) projected
  line L37 (-13.97, 19.05) -> (-13.97, 15.9512) projected
  line L38 (-3.81, 15.9512) -> (-3.81, 19.05) projected
  line L39 (-36.83, -2.54) -> (-36.83, 0) projected
extrude "Extrusion6" add sketch "Sketch3" against normal blind 1.905 contours L3 L2 L27 L6 | L6 L7 L2 L1 | L27 L2 L26 L6 | L6 L8 L2 L7 | L26 L2 L25 L6 | L6 L9 L2 L8 | L25 L2 L24 L6 | L6 L10 L37 L9 | L24 L28 L23 L6 | L9 L38 L10 L2 | L6 L11 L2 L10 | L37 L10 L38 L9 | L2 L23 L29 L24 | L23 L2 L22 L6 | L24 L29 L23 L28 | L6 L12 L2 L11 | L22 L2 L21 L6 | L6 L13 L2 L12 | L21 L2 L20 L6 | L6 L16 L15 L13 | L20 L30 L19 L6 | L13 L14 L16 L2 | L6 L17 L2 L16 | L15 L16 L14 L13 | L2 L19 L31 L20 | L19 L2 L18 L6 | L20 L31 L19 L30 | L6 L18 L2 L17
extrude "Extrusion7" add sketch "Sketch2" along normal blind 25.4 contours L138 L137 L204 L135 L0 | L139 L205 L141 L140
sketch "Sketch4" plane through (0, 25.4, 0) normal (0, 1, 0) x (1, 0, 0)
  point P0 (0, 0)
extrude "Extrusion8" add sketch "Sketch3" along normal blind 21.59 contours L6 L7 L2 L1 | L27 L2 L26 L6 | L6 L9 L2 L8 | L25 L2 L24 L6 | L6 L11 L2 L10 | L23 L2 L22 L6 | L6 L13 L2 L12 | L21 L2 L20 L6 | L6 L17 L2 L16 | L19 L2 L18 L6
extrude "Extrusion9" add sketch "Sketch3" along normal blind 16.51 contours L37 L10 L38 L9 | L24 L29 L23 L28 | L15 L16 L14 L13 | L20 L31 L19 L30
properties part number "SolenoidHolders"
